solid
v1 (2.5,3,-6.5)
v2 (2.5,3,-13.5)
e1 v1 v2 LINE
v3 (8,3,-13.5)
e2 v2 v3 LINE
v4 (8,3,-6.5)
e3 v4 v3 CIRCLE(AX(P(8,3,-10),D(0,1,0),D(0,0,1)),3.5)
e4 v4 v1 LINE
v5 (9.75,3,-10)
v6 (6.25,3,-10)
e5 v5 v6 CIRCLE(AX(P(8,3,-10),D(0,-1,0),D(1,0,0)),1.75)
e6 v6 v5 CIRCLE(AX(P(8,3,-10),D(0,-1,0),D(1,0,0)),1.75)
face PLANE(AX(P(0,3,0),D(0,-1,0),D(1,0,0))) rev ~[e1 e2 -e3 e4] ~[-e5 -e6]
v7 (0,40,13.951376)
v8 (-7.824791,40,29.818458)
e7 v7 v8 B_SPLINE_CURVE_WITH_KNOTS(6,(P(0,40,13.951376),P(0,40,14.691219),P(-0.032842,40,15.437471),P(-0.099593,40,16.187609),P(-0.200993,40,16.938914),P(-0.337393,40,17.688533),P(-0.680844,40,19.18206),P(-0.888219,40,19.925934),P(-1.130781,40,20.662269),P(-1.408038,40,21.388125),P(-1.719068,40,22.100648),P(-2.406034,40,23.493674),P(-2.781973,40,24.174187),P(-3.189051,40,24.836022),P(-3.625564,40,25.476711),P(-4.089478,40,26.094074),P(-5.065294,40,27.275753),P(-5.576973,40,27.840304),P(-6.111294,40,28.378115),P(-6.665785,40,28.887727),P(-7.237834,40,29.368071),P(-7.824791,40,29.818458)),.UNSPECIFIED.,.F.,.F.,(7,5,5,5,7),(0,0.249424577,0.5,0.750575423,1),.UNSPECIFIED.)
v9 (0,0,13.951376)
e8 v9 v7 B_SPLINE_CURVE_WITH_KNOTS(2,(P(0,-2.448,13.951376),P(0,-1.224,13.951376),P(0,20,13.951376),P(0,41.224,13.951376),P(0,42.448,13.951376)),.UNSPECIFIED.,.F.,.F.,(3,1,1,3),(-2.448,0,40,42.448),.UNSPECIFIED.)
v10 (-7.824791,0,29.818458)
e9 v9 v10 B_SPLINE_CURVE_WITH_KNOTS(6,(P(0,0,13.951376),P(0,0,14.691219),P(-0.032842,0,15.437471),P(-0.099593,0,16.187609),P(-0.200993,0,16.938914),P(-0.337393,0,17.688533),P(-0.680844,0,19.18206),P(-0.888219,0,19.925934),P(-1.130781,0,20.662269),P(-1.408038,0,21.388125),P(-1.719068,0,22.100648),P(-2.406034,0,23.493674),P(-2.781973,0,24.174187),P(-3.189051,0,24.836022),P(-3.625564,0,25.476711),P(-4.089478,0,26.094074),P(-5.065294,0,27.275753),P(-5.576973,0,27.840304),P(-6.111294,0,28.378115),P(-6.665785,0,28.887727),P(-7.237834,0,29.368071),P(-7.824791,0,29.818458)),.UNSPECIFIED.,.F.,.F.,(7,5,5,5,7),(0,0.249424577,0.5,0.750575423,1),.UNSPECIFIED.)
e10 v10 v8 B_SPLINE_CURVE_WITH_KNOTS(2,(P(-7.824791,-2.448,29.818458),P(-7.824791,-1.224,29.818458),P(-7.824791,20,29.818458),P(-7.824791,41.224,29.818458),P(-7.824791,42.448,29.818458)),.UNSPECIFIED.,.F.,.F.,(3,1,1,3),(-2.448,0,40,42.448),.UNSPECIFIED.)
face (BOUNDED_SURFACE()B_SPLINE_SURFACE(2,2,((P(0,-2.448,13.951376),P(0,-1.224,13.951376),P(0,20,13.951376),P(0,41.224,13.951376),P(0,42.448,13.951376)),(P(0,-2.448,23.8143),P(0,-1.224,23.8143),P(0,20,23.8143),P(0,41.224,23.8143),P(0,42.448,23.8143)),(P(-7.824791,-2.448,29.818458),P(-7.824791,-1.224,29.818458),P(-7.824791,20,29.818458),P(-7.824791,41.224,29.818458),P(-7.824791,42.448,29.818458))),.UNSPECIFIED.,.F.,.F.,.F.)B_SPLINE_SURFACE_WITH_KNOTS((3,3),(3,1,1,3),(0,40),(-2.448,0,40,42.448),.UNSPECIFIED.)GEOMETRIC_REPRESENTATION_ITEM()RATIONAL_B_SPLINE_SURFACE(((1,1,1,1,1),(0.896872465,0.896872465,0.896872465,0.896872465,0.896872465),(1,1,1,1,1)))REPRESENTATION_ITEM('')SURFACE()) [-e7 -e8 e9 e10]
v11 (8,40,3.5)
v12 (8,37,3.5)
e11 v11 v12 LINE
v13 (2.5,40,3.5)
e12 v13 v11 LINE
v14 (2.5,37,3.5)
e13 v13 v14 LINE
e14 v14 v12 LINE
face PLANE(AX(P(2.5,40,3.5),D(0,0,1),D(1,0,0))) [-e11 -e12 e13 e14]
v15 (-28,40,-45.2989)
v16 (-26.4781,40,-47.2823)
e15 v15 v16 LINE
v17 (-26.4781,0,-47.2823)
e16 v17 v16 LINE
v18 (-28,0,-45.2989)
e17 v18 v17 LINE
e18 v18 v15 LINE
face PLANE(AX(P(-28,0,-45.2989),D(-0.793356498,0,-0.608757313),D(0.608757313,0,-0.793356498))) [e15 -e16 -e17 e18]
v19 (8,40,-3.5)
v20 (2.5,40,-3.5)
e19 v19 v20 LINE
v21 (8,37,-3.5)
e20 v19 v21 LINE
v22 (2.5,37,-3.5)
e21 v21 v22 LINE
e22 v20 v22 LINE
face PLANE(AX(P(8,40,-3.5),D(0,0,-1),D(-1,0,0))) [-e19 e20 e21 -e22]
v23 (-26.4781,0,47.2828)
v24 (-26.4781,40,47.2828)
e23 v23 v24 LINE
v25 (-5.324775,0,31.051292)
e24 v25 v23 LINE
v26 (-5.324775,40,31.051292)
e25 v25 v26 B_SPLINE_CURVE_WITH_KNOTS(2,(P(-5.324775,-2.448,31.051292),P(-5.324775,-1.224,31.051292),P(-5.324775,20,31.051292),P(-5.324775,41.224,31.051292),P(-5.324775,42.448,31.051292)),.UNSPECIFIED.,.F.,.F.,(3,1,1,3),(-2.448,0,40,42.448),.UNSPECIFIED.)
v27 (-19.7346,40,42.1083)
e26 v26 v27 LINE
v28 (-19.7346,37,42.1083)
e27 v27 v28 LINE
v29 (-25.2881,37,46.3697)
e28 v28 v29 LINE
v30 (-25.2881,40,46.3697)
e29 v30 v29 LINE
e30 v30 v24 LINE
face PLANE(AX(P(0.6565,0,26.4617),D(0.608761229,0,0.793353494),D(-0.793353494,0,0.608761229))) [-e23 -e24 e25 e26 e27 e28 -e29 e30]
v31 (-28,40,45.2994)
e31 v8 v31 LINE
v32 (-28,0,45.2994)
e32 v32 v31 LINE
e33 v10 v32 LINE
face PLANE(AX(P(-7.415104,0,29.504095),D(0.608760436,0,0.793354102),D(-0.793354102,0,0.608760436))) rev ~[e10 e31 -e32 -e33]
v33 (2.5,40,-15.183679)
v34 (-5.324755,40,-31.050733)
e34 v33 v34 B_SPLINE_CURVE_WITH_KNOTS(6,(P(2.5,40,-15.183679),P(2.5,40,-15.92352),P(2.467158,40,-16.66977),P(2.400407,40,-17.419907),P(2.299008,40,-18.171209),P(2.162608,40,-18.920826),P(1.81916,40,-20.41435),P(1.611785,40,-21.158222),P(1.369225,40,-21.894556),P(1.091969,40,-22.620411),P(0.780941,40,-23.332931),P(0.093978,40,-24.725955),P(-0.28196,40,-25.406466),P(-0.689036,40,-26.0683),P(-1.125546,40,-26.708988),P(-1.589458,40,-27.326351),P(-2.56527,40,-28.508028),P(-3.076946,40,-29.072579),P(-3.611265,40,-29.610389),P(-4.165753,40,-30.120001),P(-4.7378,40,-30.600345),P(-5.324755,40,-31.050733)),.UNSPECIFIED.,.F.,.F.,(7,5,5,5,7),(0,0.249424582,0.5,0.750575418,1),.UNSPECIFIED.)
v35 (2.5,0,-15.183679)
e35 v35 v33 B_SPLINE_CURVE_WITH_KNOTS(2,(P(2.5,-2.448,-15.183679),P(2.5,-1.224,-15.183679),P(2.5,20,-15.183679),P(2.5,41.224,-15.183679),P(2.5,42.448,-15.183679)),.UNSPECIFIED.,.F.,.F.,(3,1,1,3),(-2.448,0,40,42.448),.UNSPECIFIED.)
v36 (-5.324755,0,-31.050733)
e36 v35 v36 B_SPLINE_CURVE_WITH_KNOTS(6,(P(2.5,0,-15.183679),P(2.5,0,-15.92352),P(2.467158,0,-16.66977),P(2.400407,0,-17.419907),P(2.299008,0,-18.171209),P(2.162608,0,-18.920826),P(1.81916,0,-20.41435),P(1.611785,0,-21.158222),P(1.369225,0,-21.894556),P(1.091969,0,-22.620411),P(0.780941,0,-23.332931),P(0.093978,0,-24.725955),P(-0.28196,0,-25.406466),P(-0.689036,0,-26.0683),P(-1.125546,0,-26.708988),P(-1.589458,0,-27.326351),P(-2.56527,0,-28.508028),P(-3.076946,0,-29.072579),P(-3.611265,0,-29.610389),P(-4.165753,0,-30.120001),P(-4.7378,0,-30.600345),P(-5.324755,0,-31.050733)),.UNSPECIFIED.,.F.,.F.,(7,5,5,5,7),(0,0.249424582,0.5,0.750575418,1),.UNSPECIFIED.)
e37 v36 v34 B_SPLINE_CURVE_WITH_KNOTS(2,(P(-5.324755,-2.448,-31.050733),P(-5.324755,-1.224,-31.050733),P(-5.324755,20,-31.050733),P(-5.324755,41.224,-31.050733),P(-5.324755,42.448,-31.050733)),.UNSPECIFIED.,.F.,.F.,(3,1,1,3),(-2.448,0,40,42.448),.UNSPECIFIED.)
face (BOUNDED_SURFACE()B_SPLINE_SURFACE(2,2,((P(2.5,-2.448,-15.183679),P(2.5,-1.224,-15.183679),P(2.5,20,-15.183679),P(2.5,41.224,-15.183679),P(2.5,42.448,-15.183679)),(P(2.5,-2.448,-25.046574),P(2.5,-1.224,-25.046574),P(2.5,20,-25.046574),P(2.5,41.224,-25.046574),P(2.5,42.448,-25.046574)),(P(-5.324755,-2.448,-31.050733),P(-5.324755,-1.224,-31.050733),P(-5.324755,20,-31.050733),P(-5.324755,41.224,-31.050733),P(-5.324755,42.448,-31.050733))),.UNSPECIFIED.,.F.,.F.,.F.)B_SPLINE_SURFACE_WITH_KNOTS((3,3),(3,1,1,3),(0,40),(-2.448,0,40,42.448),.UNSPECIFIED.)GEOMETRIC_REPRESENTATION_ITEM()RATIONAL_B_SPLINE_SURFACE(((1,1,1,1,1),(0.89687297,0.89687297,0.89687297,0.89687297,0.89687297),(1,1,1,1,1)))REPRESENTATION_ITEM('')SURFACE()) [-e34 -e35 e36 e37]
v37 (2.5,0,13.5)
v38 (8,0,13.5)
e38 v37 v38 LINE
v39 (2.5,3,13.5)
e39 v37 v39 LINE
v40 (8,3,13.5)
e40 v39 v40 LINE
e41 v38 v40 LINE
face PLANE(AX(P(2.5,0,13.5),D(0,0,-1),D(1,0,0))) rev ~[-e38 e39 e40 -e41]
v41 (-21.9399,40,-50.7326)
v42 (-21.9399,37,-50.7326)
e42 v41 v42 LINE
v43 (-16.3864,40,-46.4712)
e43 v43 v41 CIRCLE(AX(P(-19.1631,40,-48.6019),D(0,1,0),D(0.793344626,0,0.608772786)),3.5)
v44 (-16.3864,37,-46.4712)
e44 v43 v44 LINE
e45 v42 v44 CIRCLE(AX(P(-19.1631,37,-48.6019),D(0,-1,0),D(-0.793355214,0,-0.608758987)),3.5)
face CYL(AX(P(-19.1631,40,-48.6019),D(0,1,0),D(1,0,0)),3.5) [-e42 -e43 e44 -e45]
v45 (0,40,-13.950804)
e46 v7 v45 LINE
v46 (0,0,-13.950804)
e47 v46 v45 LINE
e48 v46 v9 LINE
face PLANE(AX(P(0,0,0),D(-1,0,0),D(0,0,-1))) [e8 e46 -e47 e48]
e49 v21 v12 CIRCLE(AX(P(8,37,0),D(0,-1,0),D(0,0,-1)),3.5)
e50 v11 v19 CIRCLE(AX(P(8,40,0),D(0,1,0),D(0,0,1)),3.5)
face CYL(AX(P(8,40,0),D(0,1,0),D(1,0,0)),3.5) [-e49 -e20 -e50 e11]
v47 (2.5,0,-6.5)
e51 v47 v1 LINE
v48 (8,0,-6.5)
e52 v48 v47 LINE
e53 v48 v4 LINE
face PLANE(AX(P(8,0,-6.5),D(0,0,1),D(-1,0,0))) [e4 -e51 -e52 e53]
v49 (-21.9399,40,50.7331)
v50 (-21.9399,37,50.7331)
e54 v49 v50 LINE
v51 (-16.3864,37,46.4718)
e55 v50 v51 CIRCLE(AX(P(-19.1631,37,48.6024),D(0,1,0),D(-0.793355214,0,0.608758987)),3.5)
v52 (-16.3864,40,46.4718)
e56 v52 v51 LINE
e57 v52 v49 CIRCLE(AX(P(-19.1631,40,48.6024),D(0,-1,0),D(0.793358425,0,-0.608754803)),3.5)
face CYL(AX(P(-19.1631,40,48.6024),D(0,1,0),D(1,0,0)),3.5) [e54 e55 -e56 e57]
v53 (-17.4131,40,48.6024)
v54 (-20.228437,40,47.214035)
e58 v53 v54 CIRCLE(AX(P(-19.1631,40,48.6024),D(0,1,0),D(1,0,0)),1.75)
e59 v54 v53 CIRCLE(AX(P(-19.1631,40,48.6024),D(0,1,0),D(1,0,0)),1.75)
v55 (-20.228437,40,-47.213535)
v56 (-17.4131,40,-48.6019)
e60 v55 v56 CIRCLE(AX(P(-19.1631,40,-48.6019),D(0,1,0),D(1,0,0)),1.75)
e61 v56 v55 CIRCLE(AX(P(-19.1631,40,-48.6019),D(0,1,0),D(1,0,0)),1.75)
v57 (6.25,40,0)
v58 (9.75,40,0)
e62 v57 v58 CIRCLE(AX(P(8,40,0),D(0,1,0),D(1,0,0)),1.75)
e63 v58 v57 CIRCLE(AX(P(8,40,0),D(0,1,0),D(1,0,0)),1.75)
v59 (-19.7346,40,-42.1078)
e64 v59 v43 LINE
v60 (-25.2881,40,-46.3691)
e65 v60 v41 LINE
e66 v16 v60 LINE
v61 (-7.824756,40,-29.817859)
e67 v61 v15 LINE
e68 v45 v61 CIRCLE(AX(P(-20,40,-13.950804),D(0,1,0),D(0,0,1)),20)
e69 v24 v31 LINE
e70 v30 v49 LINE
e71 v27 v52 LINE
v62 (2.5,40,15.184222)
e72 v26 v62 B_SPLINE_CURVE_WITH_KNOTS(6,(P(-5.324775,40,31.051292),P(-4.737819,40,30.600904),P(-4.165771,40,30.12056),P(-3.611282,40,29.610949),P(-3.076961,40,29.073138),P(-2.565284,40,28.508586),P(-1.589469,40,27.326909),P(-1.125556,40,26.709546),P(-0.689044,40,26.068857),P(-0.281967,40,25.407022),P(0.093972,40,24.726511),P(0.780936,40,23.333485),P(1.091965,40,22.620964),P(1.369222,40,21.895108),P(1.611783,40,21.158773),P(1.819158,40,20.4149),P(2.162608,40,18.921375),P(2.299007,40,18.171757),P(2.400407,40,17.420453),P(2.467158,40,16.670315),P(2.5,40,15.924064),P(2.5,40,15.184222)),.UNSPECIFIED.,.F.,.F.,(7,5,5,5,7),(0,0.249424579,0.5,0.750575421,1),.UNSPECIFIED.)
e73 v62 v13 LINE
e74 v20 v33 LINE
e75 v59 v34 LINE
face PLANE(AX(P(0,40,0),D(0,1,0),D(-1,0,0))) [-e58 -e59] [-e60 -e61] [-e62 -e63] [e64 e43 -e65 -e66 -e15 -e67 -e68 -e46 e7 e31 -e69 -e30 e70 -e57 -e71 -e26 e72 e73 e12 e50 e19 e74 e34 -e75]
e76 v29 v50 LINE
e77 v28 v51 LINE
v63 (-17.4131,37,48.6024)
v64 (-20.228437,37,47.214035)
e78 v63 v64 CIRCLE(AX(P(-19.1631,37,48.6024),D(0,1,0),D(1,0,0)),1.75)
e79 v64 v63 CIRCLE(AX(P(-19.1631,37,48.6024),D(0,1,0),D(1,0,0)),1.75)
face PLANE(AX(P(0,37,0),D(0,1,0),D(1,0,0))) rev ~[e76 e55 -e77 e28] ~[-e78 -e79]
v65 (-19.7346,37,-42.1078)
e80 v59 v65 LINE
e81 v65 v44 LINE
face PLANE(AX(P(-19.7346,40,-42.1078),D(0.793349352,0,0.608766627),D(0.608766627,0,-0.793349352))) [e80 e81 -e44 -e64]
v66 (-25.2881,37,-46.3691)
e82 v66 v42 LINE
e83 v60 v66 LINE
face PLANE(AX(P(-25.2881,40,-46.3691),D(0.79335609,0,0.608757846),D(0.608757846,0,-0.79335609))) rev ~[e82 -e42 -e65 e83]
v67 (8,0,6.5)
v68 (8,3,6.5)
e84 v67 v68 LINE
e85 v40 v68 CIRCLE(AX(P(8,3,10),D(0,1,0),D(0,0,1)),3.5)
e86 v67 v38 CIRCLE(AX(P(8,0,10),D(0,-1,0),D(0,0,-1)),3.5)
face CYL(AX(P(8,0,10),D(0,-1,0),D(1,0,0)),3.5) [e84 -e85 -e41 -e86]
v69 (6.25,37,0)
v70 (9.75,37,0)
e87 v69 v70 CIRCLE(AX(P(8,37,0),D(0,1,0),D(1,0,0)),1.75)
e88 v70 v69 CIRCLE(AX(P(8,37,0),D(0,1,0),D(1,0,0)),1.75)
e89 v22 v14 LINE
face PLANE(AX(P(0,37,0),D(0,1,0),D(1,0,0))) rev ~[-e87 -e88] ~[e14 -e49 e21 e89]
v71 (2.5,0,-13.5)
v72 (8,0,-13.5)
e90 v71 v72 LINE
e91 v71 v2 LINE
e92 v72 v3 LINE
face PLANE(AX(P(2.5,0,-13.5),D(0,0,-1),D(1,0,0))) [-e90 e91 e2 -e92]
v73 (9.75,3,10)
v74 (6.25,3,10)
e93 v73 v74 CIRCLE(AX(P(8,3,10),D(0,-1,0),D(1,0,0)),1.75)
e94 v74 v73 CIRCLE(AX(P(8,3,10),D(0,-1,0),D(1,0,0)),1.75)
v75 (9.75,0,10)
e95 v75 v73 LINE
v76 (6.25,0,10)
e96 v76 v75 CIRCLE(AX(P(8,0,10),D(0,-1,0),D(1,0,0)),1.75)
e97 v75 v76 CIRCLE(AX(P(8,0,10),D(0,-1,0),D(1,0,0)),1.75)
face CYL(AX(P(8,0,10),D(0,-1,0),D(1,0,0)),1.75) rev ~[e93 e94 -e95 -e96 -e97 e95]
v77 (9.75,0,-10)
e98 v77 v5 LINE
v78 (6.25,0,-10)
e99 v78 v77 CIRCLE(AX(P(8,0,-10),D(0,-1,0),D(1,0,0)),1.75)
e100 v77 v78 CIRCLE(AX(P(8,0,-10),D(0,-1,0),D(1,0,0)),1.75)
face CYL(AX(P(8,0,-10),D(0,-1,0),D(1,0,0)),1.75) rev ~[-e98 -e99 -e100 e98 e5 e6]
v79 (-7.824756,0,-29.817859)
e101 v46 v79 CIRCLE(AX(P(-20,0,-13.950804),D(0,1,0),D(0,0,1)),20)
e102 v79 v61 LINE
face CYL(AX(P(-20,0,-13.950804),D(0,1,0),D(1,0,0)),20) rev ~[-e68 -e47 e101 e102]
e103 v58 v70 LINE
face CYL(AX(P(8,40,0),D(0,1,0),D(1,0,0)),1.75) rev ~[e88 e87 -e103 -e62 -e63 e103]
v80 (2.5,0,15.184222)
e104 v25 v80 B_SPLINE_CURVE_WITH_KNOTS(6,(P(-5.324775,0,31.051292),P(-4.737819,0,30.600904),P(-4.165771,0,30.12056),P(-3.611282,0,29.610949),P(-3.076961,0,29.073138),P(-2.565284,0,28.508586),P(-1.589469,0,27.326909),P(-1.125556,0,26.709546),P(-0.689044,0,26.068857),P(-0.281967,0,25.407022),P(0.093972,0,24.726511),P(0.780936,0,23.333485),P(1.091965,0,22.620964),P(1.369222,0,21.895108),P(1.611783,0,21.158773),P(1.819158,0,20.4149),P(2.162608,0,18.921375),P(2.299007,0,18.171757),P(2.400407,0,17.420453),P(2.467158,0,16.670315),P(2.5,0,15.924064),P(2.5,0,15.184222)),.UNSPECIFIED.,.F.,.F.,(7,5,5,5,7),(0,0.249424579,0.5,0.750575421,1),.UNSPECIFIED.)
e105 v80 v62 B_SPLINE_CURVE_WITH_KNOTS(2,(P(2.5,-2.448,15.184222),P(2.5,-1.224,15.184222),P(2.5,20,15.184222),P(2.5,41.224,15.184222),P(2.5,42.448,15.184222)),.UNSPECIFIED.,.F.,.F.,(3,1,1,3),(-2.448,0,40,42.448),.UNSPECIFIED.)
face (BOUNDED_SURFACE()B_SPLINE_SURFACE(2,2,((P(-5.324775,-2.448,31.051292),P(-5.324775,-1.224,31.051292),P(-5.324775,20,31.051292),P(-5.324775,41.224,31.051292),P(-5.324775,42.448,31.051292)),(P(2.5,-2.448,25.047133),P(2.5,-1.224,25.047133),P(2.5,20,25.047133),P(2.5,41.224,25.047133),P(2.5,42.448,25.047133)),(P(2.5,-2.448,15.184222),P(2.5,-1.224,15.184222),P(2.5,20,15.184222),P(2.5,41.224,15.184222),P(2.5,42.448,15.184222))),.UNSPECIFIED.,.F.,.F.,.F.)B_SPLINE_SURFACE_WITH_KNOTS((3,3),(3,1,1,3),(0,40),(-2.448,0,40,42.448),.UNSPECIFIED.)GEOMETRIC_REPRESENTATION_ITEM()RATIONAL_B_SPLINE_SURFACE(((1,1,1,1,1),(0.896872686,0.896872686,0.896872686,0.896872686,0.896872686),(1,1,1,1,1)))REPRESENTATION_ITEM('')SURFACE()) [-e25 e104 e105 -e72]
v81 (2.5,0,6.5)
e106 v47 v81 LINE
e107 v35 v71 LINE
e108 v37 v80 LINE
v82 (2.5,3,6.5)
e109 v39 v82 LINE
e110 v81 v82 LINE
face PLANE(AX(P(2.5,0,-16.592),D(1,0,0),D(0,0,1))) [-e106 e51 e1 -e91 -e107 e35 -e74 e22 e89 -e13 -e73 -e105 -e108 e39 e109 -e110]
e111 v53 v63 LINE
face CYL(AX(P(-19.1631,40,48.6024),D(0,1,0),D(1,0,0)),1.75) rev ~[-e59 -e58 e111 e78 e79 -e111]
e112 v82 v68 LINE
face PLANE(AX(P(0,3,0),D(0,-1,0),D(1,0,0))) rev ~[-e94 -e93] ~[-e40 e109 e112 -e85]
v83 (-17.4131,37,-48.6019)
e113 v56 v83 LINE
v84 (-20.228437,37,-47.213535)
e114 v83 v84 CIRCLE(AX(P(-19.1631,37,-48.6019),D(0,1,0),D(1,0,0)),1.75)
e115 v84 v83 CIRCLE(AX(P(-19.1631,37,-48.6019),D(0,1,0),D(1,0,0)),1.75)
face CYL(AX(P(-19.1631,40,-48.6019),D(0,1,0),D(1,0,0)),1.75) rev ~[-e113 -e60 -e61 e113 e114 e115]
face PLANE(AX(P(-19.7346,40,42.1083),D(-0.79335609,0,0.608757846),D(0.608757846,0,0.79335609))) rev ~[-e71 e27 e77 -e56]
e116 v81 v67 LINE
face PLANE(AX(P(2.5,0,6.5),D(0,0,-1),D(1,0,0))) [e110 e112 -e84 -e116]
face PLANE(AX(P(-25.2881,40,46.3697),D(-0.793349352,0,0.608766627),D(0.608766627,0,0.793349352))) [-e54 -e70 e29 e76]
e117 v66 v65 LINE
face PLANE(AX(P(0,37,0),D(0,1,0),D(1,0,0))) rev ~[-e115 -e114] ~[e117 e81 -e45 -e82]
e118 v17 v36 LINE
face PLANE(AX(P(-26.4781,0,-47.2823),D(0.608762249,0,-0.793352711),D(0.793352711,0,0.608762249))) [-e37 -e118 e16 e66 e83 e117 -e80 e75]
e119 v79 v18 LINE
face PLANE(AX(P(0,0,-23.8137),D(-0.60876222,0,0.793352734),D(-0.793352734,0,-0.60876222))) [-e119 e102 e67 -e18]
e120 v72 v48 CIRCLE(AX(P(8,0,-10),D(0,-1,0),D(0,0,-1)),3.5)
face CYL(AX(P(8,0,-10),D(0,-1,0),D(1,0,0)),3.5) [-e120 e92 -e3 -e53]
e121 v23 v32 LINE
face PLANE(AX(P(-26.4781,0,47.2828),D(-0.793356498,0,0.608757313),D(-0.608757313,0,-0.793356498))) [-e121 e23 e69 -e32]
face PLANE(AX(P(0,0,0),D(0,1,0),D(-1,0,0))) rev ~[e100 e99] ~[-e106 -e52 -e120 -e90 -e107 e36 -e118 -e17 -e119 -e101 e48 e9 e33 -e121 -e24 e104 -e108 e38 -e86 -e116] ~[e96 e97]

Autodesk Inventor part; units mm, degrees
ref_plane "YZ Plane" through (0, 0, 0) normal (1, 0, 0) x (0, 1, 0)
ref_plane "XZ Plane" through (0, 0, 0) normal (0, 1, 0) x (-1, 0, 0)
ref_plane "XY Plane" through (0, 0, 0) normal (0, 0, 1) x (1, 0, 0)
sketch "Sketch1" plane through (0, 0, 0) normal (0, 1, 0) x (-1, 0, 0)
  line L0 (0, 0) -> (0, 23.8143)
  line L1 (0, 23.8143) -> (7.4151, 29.5041)
  line L2 (0, 23.8143) -> (9.3465, 23.8143) construction
  line L3 (0, 23.8143) -> (28, 45.2994)
  line L4 (0, 23.8143) -> (0, -23.8137)
  line L5 (0, -23.8137) -> (28, -45.2989)
  line L6 (28, -45.2989) -> (26.4781, -47.2823)
  line L7 (26.4781, -47.2823) -> (-0.4066, -26.6529)
  line L8 (0, -16.592) -> (-2.5, -16.592)
  line L9 (-2.5, -16.592) -> (-2.5, -25.0466)
  line L10 (-2.5, -25.0466) -> (-0.4066, -26.6529)
  line L11 (-2.5, -16.592) -> (-2.5, 22.9887)
  line L12 (0.8654, 24.4783) -> (-0.6565, 26.4617)
  line L13 (-0.6565, 26.4617) -> (-2.5, 25.0471)
  line L14 (-2.5, 25.0471) -> (-2.5, 22.9887)
  line L15 (-0.6565, 26.4617) -> (26.4781, 47.2828)
  line L16 (26.4781, 47.2828) -> (28, 45.2994)
  line L17 (26.4781, 47.2828) -> (28, 45.2994)
  line L18 (28, 45.2994) -> (0.8654, 24.4783)
  dimension "d0" = 23.8143
  dimension "d1" = 37.5
  dimension "d2" = 35.2932
  dimension "d3" = 47.628
  dimension "d4" = 35.2932
  dimension "d5" = 2.5
  dimension "d6" = 2.5
  dimension "d7" = 2.5
extrude "Extrusion1" add sketch "Sketch1" along normal blind 40
sketch "Sketch2" plane through (0, 40, 0) normal (0, 1, 0) x (1, 0, 0)
  line L0 (0, 0) -> (8, 0)
  line L1 (-28, 45.2989) -> (0, 23.8137) projected
  line L2 (-28, 45.2989) -> (-24.0332, 42.2551)
  line L3 (-24.0332, 42.2551) -> (-19.1631, 48.6019)
  line L4 (0, -23.8143) -> (-28, -45.2994) projected
  line L5 (-28, -45.2994) -> (-24.0332, -42.2556)
  line L6 (-24.0332, -42.2556) -> (-19.1631, -48.6024)
  circle A0 centre (-19.1631, -48.6024) radius 1.75
  circle A1 centre (-19.1631, -48.6024) radius 3.5
  circle A2 centre (8, 0) radius 1.75
  circle A3 centre (8, 0) radius 3.5
  circle A4 centre (-19.1631, 48.6019) radius 1.75
  circle A5 centre (-19.1631, 48.6019) radius 3.5
  line L7 (2.5, 25.0466) -> (-26.4781, 47.2823) projected
  line L8 (-22.5113, 44.2385) -> (-25.2881, 46.3691)
  line L9 (-25.2881, 46.3691) -> (-21.9399, 50.7326)
  line L10 (-22.5113, 44.2385) -> (-19.7346, 42.1078)
  line L11 (-19.7346, 42.1078) -> (-16.3864, 46.4712)
  line L12 (8, 3.5) -> (2.5, 3.5)
  line L13 (2.5, 3.5) -> (2.5, -3.5)
  line L14 (2.5, -25.0471) -> (2.5, 25.0466) projected
  line L15 (2.5, -3.5) -> (8, -3.5)
  line L16 (-26.4781, -47.2828) -> (2.5, -25.0471) projected
  line L17 (-22.5113, -44.239) -> (-19.7346, -42.1083)
  line L18 (-19.7346, -42.1083) -> (-16.3864, -46.4718)
  line L19 (-22.5113, -44.239) -> (-25.2881, -46.3697)
  line L20 (-25.2881, -46.3697) -> (-21.9399, -50.7331)
  dimension "d10" = 8
  dimension "d11" = 5
  dimension "d12" = 8
  dimension "d13" = 8
  dimension "d14" = 3.5
  dimension "d15" = 7
  dimension "d16" = 3.5
  dimension "d17" = 7
  dimension "d18" = 3.5
  dimension "d19" = 7
  dimension "d20" = 3.5
  dimension "d21" = 3.5
extrude "Extrusion2" add sketch "Sketch2" against normal blind 3
sketch "Sketch3" plane through (0, 0, 0) normal (0, -1, 0) x (1, 0, 0)
  line L0 (0, 0) -> (0, 10)
  line L1 (0, -23.8137) -> (0, 23.8143) projected
  line L2 (0, 10) -> (0, -10)
  line L3 (0, -10) -> (8, -10)
  line L4 (0, 10) -> (8, 10)
  circle A0 centre (8, 10) radius 1.75
  circle A1 centre (8, -10) radius 1.75
  circle A2 centre (8, -10) radius 3.5
  circle A3 centre (8, 10) radius 3.5
  line L5 (2.5, 25.0471) -> (2.5, -25.0466) projected
  line L6 (2.5, 10) -> (2.5, 6.5)
  line L7 (2.5, 6.5) -> (8, 6.5)
  line L8 (2.5, 10) -> (2.5, 13.5)
  line L9 (2.5, 13.5) -> (8, 13.5)
  line L10 (2.5, -10) -> (2.5, -13.5)
  line L11 (2.5, -13.5) -> (8, -13.5)
  line L12 (2.5, -10) -> (2.5, -6.5)
  line L13 (2.5, -6.5) -> (8, -6.5)
  dimension "d24" = 10
  dimension "d25" = 20
  dimension "d26" = 8
  dimension "d27" = 3.5
  dimension "d28" = 7
extrude "Extrusion3" add sketch "Sketch3" against normal blind 3 contours L5 L9 A3 L4 | L4 A3 L7 L5 | L5 L13 A2 L3 | L3 A2 L11 L5 | A3 | A2
sketch "Sketch4" plane through (0, 0, 0) normal (0, -1, 0) x (1, 0, 0)
  line L0 (2.5, 13.5) -> (8, 13.5) projected
  line L1 (2.5, 13.5) -> (12.0473, 13.5)
  line L2 (12.0473, 13.5) -> (12.0473, 6.5)
  line L3 (12.0473, 6.5) -> (2.5, 6.5)
  line L4 (2.5, 6.5) -> (2.5, 13.5)
  line L5 (2.5, -6.5) -> (8, -6.5) projected
  line L6 (2.5, -6.5) -> (13.899, -6.5)
  line L7 (13.899, -6.5) -> (13.899, -13.5)
  line L8 (13.899, -13.5) -> (2.5, -13.5)
  line L9 (2.5, -13.5) -> (2.5, -6.5)
  point P0 (0, 0)
  dimension "d31" = 7
extrude "Extrusion4" cut sketch "Sketch4" against normal blind 3
sketch "Sketch5" plane through (0, 0, 0) normal (0, -1, 0) x (1, 0, 0)
  point P0 (0, 0)
fillet "Fillet1" radius 20 4 edges at (0, 20, -23.8137) (0, 20, 23.8143) (2.5, 20, 25.0471) (2.5, 20, -25.0466)
sketch "Sketch6" plane through (0, 0, 0) normal (0, -1, 0) x (1, 0, 0)
  line L0 (0, 0) -> (0, 10)
  line L1 (0, -13.9508) -> (0, 13.9514) projected
  line L2 (0, 10) -> (8, 10)
  circle A0 centre (8, 10) radius 1.75
  circle A1 centre (8, 10) radius 3.5
  line L3 (2.5, 15.1842) -> (2.5, 3.5) projected
  line L4 (2.5, 10) -> (2.5, 13.5)
  line L5 (2.5, 13.5) -> (8, 13.5)
  line L6 (2.5, 10) -> (2.5, 6.5)
  line L7 (2.5, 6.5) -> (8, 6.5)
  line L8 (0, 0) -> (0, -10)
  line L9 (0, -10) -> (8, -10)
  circle A2 centre (8, -10) radius 1.75
  circle A3 centre (8, -10) radius 3.5
  line L10 (8, -6.5) -> (2.5, -6.5)
  line L11 (2.5, 15.1842) -> (2.5, -15.1837) projected
  line L12 (2.5, -6.5) -> (2.5, -13.5)
  line L13 (2.5, -13.5) -> (8, -13.5)
  dimension "d35" = 10
  dimension "d36" = 8
  dimension "d37" = 3.5
  dimension "d38" = 7
  dimension "d39" = 10
  dimension "d40" = 8
extrude "Extrusion5" add sketch "Sketch6" against normal blind 3 contours L3 L5 A1 L2 | L2 A1 L7 L3 | L11 L10 A3 L9 | L9 A3 L13 L11 | A1 | A3
properties part number "Capcture Zone4"
